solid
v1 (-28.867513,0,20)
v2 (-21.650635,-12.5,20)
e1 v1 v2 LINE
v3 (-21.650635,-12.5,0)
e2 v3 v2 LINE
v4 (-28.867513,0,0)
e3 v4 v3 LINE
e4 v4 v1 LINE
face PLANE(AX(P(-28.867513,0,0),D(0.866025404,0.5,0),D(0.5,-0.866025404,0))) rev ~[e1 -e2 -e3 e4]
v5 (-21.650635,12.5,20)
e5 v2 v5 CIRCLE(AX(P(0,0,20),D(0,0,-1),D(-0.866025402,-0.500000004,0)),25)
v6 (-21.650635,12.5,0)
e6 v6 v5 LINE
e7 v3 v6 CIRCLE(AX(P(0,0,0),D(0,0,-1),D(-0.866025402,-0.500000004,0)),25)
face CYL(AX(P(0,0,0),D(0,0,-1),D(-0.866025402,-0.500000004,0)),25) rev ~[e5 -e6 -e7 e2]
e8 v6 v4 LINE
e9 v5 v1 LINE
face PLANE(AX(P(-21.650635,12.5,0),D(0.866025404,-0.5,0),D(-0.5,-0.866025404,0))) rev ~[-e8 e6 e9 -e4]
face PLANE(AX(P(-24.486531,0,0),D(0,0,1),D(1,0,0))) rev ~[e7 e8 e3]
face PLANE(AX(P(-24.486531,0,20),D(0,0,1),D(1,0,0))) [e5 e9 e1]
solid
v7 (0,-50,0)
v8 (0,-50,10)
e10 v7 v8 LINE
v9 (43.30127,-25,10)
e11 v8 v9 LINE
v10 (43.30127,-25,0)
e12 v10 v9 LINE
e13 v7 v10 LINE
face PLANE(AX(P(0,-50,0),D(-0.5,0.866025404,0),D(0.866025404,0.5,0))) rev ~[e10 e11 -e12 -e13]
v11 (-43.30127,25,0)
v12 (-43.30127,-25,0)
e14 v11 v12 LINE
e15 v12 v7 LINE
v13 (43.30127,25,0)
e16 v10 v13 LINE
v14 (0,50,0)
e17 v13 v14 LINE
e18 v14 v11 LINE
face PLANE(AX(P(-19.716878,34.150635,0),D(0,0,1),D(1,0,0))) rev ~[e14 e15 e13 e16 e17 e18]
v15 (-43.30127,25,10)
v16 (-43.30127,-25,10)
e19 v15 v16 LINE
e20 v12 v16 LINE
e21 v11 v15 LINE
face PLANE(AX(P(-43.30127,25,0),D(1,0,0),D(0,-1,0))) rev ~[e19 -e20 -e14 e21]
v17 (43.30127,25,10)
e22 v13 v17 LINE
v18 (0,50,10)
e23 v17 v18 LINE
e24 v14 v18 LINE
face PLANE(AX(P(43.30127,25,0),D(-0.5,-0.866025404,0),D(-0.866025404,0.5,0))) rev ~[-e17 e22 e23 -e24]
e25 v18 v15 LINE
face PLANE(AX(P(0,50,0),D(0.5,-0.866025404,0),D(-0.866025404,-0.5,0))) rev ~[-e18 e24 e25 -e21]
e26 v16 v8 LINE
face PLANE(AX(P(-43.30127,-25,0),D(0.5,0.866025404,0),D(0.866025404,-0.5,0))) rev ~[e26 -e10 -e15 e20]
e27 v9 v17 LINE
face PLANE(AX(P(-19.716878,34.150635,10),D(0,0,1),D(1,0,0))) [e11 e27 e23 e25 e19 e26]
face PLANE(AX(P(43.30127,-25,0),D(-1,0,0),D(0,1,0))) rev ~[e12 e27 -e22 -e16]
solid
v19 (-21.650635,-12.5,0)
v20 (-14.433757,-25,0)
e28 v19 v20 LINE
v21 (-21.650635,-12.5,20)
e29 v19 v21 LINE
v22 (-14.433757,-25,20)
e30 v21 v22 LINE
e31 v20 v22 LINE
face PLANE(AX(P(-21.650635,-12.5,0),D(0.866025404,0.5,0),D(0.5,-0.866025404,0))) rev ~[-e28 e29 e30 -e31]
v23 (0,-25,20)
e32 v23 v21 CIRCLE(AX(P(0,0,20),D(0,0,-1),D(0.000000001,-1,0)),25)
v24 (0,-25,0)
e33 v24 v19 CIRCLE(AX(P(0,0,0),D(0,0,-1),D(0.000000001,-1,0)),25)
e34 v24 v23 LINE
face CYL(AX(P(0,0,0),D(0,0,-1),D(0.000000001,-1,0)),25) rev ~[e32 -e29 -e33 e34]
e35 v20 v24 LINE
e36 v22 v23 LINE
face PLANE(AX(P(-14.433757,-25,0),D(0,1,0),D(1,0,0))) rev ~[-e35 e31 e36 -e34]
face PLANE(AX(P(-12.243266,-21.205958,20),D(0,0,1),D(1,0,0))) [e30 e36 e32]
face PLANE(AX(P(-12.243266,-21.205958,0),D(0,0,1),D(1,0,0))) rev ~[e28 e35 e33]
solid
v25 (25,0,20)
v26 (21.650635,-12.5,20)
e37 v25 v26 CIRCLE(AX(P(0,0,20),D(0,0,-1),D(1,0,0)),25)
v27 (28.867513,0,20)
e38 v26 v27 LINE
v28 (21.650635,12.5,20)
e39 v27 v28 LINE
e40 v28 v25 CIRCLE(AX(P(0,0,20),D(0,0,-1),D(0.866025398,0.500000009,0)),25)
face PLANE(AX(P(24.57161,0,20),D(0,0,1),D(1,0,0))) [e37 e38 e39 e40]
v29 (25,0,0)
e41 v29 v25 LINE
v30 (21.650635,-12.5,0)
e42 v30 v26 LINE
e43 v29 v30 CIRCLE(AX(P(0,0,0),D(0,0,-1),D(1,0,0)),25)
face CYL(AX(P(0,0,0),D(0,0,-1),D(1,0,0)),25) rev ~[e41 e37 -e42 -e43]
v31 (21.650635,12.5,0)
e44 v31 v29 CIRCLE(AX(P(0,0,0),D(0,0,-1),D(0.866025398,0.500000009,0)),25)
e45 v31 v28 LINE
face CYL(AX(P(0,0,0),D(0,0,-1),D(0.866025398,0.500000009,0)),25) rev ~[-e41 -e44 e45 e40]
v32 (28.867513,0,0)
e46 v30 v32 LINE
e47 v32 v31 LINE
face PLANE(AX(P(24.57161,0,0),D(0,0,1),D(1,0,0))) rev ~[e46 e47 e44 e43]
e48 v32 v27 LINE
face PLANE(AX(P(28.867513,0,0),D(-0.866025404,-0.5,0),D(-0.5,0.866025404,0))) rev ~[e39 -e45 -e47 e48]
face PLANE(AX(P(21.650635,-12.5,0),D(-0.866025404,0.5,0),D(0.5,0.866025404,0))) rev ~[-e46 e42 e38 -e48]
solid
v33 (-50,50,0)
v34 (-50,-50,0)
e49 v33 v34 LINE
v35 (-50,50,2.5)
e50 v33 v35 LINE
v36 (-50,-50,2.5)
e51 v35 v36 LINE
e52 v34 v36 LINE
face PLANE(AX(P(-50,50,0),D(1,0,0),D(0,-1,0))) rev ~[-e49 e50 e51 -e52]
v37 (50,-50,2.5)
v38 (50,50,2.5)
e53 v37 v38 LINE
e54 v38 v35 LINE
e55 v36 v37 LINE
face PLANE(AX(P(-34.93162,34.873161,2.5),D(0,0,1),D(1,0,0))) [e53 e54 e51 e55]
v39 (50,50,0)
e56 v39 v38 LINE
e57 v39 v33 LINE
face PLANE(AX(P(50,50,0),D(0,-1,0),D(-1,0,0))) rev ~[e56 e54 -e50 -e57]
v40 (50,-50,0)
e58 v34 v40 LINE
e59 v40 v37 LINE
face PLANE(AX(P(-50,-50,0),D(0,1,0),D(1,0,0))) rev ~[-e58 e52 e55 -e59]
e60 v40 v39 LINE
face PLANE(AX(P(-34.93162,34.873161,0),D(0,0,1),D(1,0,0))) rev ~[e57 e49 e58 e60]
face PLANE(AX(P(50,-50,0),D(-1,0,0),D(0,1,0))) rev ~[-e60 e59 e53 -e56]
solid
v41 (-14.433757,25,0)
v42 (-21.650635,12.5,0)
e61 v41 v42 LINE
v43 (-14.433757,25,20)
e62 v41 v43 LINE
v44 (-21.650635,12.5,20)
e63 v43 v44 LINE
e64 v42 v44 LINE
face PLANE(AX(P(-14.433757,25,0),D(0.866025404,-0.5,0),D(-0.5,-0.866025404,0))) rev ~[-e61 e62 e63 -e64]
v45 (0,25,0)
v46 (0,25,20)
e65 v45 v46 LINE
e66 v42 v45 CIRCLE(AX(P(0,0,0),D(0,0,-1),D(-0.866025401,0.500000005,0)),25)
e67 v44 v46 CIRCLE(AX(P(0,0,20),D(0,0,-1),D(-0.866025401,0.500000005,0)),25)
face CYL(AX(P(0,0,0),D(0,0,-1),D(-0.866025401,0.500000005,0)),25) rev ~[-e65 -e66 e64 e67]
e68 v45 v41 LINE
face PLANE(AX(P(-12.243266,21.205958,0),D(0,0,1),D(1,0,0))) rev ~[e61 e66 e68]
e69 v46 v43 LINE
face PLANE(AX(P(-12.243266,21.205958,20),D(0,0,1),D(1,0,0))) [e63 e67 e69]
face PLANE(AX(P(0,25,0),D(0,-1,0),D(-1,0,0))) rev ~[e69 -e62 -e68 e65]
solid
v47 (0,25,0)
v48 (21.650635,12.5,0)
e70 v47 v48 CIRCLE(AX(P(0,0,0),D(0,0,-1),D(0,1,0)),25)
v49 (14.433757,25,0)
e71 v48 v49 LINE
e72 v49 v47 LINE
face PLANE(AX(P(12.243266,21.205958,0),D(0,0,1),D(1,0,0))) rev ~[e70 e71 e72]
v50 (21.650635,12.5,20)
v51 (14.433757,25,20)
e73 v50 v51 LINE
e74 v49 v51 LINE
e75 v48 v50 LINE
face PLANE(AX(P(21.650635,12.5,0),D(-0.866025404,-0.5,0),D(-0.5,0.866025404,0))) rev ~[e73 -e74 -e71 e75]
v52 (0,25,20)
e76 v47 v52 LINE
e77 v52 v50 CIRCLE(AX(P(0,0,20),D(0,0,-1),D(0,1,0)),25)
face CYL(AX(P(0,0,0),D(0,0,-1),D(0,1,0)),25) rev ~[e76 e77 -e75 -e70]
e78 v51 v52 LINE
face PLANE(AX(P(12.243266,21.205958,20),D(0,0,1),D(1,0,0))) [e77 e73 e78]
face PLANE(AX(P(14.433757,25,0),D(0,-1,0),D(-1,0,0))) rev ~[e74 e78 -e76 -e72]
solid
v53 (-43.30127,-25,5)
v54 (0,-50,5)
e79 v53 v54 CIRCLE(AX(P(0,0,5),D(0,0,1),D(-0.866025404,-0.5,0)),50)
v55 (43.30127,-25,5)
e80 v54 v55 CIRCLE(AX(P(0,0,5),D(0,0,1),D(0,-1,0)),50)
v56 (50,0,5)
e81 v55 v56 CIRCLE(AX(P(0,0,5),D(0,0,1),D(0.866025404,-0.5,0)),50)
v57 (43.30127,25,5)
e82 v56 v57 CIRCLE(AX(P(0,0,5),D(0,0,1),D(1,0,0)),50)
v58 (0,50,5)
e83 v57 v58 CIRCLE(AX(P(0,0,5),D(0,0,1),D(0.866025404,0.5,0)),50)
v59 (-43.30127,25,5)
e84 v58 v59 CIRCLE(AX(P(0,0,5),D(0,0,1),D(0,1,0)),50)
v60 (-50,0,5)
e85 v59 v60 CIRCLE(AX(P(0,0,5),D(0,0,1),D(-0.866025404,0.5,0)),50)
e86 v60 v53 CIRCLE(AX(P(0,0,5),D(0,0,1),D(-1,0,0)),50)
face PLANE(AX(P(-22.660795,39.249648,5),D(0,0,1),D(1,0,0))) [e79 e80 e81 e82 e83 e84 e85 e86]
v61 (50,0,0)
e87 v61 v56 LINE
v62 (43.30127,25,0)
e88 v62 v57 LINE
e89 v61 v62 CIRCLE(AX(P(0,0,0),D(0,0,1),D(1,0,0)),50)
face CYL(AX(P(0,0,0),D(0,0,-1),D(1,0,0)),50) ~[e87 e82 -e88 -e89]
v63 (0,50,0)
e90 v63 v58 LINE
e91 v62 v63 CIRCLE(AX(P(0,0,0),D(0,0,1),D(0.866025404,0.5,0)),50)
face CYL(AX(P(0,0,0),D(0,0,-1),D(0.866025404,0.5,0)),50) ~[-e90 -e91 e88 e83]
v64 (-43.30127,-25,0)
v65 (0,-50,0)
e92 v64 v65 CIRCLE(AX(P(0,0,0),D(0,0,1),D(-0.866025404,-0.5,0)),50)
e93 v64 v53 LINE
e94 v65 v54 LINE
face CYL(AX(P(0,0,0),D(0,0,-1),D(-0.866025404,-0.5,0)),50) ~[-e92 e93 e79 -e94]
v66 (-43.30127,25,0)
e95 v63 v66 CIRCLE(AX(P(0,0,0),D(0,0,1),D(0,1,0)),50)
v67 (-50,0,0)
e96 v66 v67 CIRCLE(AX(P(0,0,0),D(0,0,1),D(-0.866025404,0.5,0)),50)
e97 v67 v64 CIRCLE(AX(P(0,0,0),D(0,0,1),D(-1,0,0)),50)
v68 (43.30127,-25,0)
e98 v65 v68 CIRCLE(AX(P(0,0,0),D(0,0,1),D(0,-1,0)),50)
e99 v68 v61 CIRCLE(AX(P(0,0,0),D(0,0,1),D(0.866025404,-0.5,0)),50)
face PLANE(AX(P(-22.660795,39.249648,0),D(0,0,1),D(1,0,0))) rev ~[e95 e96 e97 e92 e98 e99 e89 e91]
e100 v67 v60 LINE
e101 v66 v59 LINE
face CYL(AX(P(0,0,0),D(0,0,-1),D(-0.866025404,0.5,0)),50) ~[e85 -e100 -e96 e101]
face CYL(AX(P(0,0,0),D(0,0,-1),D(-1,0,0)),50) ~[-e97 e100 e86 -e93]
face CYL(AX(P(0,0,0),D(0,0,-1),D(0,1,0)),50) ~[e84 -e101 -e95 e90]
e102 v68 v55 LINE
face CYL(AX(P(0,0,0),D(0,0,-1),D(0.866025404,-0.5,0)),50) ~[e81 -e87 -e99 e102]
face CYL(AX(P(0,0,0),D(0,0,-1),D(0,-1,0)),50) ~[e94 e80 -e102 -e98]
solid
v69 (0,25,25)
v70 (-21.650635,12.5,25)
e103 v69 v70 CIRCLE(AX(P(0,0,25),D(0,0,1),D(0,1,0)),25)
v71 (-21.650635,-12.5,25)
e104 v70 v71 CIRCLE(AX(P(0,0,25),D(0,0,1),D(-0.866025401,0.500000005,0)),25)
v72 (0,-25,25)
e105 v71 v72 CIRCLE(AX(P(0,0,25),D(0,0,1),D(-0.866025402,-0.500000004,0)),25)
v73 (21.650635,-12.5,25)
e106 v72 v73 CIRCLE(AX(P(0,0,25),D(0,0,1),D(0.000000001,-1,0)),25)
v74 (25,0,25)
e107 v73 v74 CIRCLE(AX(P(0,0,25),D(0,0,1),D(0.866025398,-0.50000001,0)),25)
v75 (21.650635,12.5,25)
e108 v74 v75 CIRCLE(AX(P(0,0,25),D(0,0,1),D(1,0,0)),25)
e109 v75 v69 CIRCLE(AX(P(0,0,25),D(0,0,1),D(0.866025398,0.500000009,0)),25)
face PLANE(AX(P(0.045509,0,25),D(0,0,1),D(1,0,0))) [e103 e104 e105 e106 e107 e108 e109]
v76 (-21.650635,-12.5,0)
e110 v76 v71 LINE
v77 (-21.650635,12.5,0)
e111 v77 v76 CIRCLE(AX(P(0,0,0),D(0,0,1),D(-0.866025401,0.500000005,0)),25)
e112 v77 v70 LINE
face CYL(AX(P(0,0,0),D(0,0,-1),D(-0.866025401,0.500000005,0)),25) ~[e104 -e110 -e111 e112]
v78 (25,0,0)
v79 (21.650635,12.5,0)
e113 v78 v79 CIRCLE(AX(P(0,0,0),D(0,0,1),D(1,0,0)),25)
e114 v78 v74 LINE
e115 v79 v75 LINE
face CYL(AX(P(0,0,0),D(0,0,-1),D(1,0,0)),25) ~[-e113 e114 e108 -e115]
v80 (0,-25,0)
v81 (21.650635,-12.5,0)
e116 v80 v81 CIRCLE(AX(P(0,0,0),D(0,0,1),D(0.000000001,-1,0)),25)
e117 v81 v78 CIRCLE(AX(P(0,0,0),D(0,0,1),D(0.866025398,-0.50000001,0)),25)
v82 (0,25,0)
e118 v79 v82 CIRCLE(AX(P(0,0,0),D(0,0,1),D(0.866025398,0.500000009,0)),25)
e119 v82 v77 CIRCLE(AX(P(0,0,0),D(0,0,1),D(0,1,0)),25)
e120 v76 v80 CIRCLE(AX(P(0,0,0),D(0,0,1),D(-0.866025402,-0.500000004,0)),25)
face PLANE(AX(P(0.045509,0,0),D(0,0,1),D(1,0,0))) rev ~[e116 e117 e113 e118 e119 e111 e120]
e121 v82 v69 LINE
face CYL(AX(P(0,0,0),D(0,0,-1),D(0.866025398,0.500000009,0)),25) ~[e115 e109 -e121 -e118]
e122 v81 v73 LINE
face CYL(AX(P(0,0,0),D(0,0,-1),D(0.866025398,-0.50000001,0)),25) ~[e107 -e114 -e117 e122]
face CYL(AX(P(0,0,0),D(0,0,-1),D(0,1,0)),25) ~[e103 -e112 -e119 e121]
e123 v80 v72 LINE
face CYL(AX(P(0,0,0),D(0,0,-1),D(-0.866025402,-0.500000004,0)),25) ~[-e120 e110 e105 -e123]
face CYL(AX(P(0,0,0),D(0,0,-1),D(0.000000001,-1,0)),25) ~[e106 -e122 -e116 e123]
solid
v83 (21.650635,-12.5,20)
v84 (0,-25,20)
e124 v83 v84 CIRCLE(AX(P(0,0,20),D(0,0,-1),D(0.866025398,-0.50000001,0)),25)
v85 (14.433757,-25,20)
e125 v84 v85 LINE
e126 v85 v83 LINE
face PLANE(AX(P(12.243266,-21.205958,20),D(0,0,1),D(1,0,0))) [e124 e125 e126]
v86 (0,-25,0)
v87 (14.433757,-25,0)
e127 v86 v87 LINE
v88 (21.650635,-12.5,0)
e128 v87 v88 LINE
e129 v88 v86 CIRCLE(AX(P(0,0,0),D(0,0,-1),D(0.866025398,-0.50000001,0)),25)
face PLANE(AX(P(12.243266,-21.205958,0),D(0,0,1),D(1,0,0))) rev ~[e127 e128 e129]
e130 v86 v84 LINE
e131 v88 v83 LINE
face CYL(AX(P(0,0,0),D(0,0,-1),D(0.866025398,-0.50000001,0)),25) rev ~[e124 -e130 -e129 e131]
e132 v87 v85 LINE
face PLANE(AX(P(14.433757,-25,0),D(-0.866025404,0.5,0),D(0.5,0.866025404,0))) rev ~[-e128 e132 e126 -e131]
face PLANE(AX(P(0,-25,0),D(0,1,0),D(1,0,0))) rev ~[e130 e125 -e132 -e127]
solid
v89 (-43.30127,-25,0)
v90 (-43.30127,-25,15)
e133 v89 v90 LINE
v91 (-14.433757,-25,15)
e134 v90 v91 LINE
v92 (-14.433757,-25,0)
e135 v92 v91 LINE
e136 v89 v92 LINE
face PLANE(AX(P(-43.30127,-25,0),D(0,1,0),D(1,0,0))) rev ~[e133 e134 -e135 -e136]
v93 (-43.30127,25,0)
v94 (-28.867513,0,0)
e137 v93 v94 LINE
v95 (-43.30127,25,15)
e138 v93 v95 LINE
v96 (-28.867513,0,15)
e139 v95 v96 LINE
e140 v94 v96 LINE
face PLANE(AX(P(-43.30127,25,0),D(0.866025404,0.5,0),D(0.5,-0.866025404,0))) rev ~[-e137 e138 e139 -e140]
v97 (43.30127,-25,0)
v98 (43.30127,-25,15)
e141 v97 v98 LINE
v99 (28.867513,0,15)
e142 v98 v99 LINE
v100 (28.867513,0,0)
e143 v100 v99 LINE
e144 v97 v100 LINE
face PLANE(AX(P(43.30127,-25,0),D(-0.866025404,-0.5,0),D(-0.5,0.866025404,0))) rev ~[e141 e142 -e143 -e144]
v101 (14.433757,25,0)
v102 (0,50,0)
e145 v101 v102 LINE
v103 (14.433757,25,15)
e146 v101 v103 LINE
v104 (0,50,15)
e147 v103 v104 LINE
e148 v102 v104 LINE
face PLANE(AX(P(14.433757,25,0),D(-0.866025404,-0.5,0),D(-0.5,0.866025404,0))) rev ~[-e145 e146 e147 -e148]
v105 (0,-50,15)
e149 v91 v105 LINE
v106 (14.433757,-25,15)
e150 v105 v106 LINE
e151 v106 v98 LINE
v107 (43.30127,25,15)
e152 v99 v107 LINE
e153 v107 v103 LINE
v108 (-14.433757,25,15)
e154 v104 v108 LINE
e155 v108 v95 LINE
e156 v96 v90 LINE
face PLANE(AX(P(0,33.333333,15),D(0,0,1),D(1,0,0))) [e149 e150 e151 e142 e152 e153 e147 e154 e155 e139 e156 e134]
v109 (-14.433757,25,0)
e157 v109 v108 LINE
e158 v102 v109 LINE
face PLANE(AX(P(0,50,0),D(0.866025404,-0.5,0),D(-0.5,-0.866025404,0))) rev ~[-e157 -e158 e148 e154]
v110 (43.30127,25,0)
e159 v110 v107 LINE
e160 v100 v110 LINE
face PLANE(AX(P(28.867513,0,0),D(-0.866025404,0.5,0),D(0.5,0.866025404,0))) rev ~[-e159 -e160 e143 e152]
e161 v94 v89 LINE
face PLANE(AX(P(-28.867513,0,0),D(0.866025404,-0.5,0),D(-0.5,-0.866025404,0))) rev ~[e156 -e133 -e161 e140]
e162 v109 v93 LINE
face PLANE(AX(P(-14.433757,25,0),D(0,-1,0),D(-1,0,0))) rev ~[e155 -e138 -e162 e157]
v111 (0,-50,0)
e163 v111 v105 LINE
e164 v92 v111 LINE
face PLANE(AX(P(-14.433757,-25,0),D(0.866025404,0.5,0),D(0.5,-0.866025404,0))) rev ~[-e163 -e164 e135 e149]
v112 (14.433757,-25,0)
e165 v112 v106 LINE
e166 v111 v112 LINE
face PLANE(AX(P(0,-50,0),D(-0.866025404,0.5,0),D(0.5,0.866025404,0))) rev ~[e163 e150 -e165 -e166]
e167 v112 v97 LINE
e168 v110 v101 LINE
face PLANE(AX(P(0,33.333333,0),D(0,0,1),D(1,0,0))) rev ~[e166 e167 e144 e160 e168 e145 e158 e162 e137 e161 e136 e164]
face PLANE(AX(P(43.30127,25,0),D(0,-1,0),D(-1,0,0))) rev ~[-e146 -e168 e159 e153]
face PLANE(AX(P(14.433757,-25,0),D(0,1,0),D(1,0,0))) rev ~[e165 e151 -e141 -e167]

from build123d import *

# Parameters (mm, degrees)
F1_DEPTH = 25
F2_DEPTH = 20
F3_DEPTH = 15
F4_DEPTH = 10
F5_DEPTH = 5
F6_DEPTH = 2.5


with BuildPart() as f1:
    # F0 (on Top) → F1 (new body)
    with BuildSketch(Plane.XY):
        with BuildLine():
            ThreePointArc((25, 0), (24.148145622, 6.4704762591), (21.6506349584, 12.5000002359))
            ThreePointArc((21.6506349584, 12.5000002359), (12.4999998821, 21.6506351627), (0, 25))
            ThreePointArc((0, 25), (-12.4999999326, 21.6506351336), (-21.6506350167, 12.5000001349))
            ThreePointArc((-21.6506350167, 12.5000001349), (-25, 2.62e-08), (-21.6506350429, -12.5000000895))
            ThreePointArc((-21.6506350429, -12.5000000895), (-12.4999999395, -21.6506351296), (3.65e-08, -25))
            ThreePointArc((3.65e-08, -25), (12.4999998892, -21.6506351586), (21.6506349484, -12.5000002532))
            ThreePointArc((21.6506349484, -12.5000002532), (24.1481456194, -6.4704762687), (25, 0))
        make_face()
    extrude(amount=F1_DEPTH)


with BuildPart() as f2:
    # F0 (on Top) → F2 (new body)
    with BuildSketch(Plane.XY):
        with BuildLine():
            Line((0, 25), (-14.4337567297, 25))
            Line((-14.4337567297, 25), (-21.6506350167, 12.5000001349))
            ThreePointArc((-21.6506350167, 12.5000001349), (-12.4999999326, 21.6506351336), (0, 25))
        make_face()
    extrude(amount=F2_DEPTH)


with BuildPart() as f2b:
    # F0 (on Top) → F2, piece 2 (new body)
    with BuildSketch(Plane.XY):
        with BuildLine():
            Line((21.6506349484, -12.5000002532), (28.8675134595, 0))
            Line((28.8675134595, 0), (21.6506349584, 12.5000002359))
            ThreePointArc((21.6506349584, 12.5000002359), (24.148145622, 6.4704762591), (25, 0))
            ThreePointArc((25, 0), (24.1481456194, -6.4704762687), (21.6506349484, -12.5000002532))
        make_face()
    extrude(amount=F2_DEPTH)


with BuildPart() as f2c:
    # F0 (on Top) → F2, piece 3 (new body)
    with BuildSketch(Plane.XY):
        with BuildLine():
            Line((21.6506349584, 12.5000002359), (14.4337567297, 25))
            Line((14.4337567297, 25), (0, 25))
            ThreePointArc((0, 25), (12.4999998821, 21.6506351627), (21.6506349584, 12.5000002359))
        make_face()
    extrude(amount=F2_DEPTH)


with BuildPart() as f2d:
    # F0 (on Top) → F2, piece 4 (new body)
    with BuildSketch(Plane.XY):
        with BuildLine():
            Line((3.65e-08, -25), (14.4337567297, -25))
            Line((14.4337567297, -25), (21.6506349484, -12.5000002532))
            ThreePointArc((21.6506349484, -12.5000002532), (12.4999998892, -21.6506351586), (3.65e-08, -25))
        make_face()
    extrude(amount=F2_DEPTH)


with BuildPart() as f2e:
    # F0 (on Top) → F2, piece 5 (new body)
    with BuildSketch(Plane.XY):
        with BuildLine():
            Line((-21.6506350429, -12.5000000895), (-14.4337567297, -25))
            Line((-14.4337567297, -25), (3.65e-08, -25))
            ThreePointArc((3.65e-08, -25), (-12.4999999395, -21.6506351296), (-21.6506350429, -12.5000000895))
        make_face()
    extrude(amount=F2_DEPTH)


with BuildPart() as f2f:
    # F0 (on Top) → F2, piece 6 (new body)
    with BuildSketch(Plane.XY):
        with BuildLine():
            Line((-21.6506350167, 12.5000001349), (-28.8675134595, 0))
            Line((-28.8675134595, 0), (-21.6506350429, -12.5000000895))
            ThreePointArc((-21.6506350429, -12.5000000895), (-25, 2.62e-08), (-21.6506350167, 12.5000001349))
        make_face()
    extrude(amount=F2_DEPTH)


with BuildPart() as f3:
    # F0 (on Top) → F3 (new body)
    with BuildSketch(Plane.XY):
        Polygon((14.4337567297, 25), (0, 50), (-14.4337567297, 25), (0, 25), align=None)
        Polygon((28.8675134595, 0), (43.3012701892, 25), (14.4337567297, 25), (21.6506349584, 12.5000002359), align=None)
        Polygon((14.4337567297, -25), (43.3012701892, -25), (28.8675134595, 0), (21.6506349484, -12.5000002532), align=None)
        Polygon((-14.4337567297, -25), (0, -50), (14.4337567297, -25), (3.65e-08, -25), align=None)
        Polygon((-28.8675134595, 0), (-43.3012701892, -25), (-14.4337567297, -25), (-21.6506350429, -12.5000000895), align=None)
        Polygon((-14.4337567297, 25), (-43.3012701892, 25), (-28.8675134595, 0), (-21.6506350167, 12.5000001349), align=None)
        with BuildLine():
            Line((0, 25), (-14.4337567297, 25))
            Line((-14.4337567297, 25), (-21.6506350167, 12.5000001349))
            ThreePointArc((-21.6506350167, 12.5000001349), (-12.4999999326, 21.6506351336), (0, 25))
        make_face()
        with BuildLine():
            Line((21.6506349584, 12.5000002359), (14.4337567297, 25))
            Line((14.4337567297, 25), (0, 25))
            ThreePointArc((0, 25), (12.4999998821, 21.6506351627), (21.6506349584, 12.5000002359))
        make_face()
        with BuildLine():
            Line((21.6506349484, -12.5000002532), (28.8675134595, 0))
            Line((28.8675134595, 0), (21.6506349584, 12.5000002359))
            ThreePointArc((21.6506349584, 12.5000002359), (24.148145622, 6.4704762591), (25, 0))
            ThreePointArc((25, 0), (24.1481456194, -6.4704762687), (21.6506349484, -12.5000002532))
        make_face()
        with BuildLine():
            Line((3.65e-08, -25), (14.4337567297, -25))
            Line((14.4337567297, -25), (21.6506349484, -12.5000002532))
            ThreePointArc((21.6506349484, -12.5000002532), (12.4999998892, -21.6506351586), (3.65e-08, -25))
        make_face()
        with BuildLine():
            Line((-21.6506350429, -12.5000000895), (-14.4337567297, -25))
            Line((-14.4337567297, -25), (3.65e-08, -25))
            ThreePointArc((3.65e-08, -25), (-12.4999999395, -21.6506351296), (-21.6506350429, -12.5000000895))
        make_face()
        with BuildLine():
            Line((-21.6506350167, 12.5000001349), (-28.8675134595, 0))
            Line((-28.8675134595, 0), (-21.6506350429, -12.5000000895))
            ThreePointArc((-21.6506350429, -12.5000000895), (-25, 2.62e-08), (-21.6506350167, 12.5000001349))
        make_face()
        with BuildLine():
            ThreePointArc((25, 0), (24.148145622, 6.4704762591), (21.6506349584, 12.5000002359))
            ThreePointArc((21.6506349584, 12.5000002359), (12.4999998821, 21.6506351627), (0, 25))
            ThreePointArc((0, 25), (-12.4999999326, 21.6506351336), (-21.6506350167, 12.5000001349))
            ThreePointArc((-21.6506350167, 12.5000001349), (-25, 2.62e-08), (-21.6506350429, -12.5000000895))
            ThreePointArc((-21.6506350429, -12.5000000895), (-12.4999999395, -21.6506351296), (3.65e-08, -25))
            ThreePointArc((3.65e-08, -25), (12.4999998892, -21.6506351586), (21.6506349484, -12.5000002532))
            ThreePointArc((21.6506349484, -12.5000002532), (24.1481456194, -6.4704762687), (25, 0))
        make_face()
    extrude(amount=F3_DEPTH)


with BuildPart() as f4:
    # F0 (on Top) → F4 (new body)
    with BuildSketch(Plane.XY):
        Polygon((-14.4337567297, 25), (0, 50), (-43.3012701892, 25), align=None)
        Polygon((14.4337567297, 25), (43.3012701892, 25), (0, 50), align=None)
        Polygon((43.3012701892, -25), (43.3012701892, 25), (28.8675134595, 0), align=None)
        Polygon((0, -50), (43.3012701892, -25), (14.4337567297, -25), align=None)
        Polygon((-43.3012701892, -25), (0, -50), (-14.4337567297, -25), align=None)
        Polygon((-28.8675134595, 0), (-43.3012701892, 25), (-43.3012701892, -25), align=None)
        Polygon((-14.4337567297, 25), (-43.3012701892, 25), (-28.8675134595, 0), (-21.6506350167, 12.5000001349), align=None)
        Polygon((14.4337567297, 25), (0, 50), (-14.4337567297, 25), (0, 25), align=None)
        Polygon((28.8675134595, 0), (43.3012701892, 25), (14.4337567297, 25), (21.6506349584, 12.5000002359), align=None)
        Polygon((14.4337567297, -25), (43.3012701892, -25), (28.8675134595, 0), (21.6506349484, -12.5000002532), align=None)
        Polygon((-14.4337567297, -25), (0, -50), (14.4337567297, -25), (3.65e-08, -25), align=None)
        Polygon((-28.8675134595, 0), (-43.3012701892, -25), (-14.4337567297, -25), (-21.6506350429, -12.5000000895), align=None)
        with BuildLine():
            Line((-21.6506350167, 12.5000001349), (-28.8675134595, 0))
            Line((-28.8675134595, 0), (-21.6506350429, -12.5000000895))
            ThreePointArc((-21.6506350429, -12.5000000895), (-25, 2.62e-08), (-21.6506350167, 12.5000001349))
        make_face()
        with BuildLine():
            Line((0, 25), (-14.4337567297, 25))
            Line((-14.4337567297, 25), (-21.6506350167, 12.5000001349))
            ThreePointArc((-21.6506350167, 12.5000001349), (-12.4999999326, 21.6506351336), (0, 25))
        make_face()
        with BuildLine():
            Line((21.6506349584, 12.5000002359), (14.4337567297, 25))
            Line((14.4337567297, 25), (0, 25))
            ThreePointArc((0, 25), (12.4999998821, 21.6506351627), (21.6506349584, 12.5000002359))
        make_face()
        with BuildLine():
            Line((21.6506349484, -12.5000002532), (28.8675134595, 0))
            Line((28.8675134595, 0), (21.6506349584, 12.5000002359))
            ThreePointArc((21.6506349584, 12.5000002359), (24.148145622, 6.4704762591), (25, 0))
            ThreePointArc((25, 0), (24.1481456194, -6.4704762687), (21.6506349484, -12.5000002532))
        make_face()
        with BuildLine():
            Line((3.65e-08, -25), (14.4337567297, -25))
            Line((14.4337567297, -25), (21.6506349484, -12.5000002532))
            ThreePointArc((21.6506349484, -12.5000002532), (12.4999998892, -21.6506351586), (3.65e-08, -25))
        make_face()
        with BuildLine():
            Line((-21.6506350429, -12.5000000895), (-14.4337567297, -25))
            Line((-14.4337567297, -25), (3.65e-08, -25))
            ThreePointArc((3.65e-08, -25), (-12.4999999395, -21.6506351296), (-21.6506350429, -12.5000000895))
        make_face()
        with BuildLine():
            ThreePointArc((25, 0), (24.148145622, 6.4704762591), (21.6506349584, 12.5000002359))
            ThreePointArc((21.6506349584, 12.5000002359), (12.4999998821, 21.6506351627), (0, 25))
            ThreePointArc((0, 25), (-12.4999999326, 21.6506351336), (-21.6506350167, 12.5000001349))
            ThreePointArc((-21.6506350167, 12.5000001349), (-25, 2.62e-08), (-21.6506350429, -12.5000000895))
            ThreePointArc((-21.6506350429, -12.5000000895), (-12.4999999395, -21.6506351296), (3.65e-08, -25))
            ThreePointArc((3.65e-08, -25), (12.4999998892, -21.6506351586), (21.6506349484, -12.5000002532))
            ThreePointArc((21.6506349484, -12.5000002532), (24.1481456194, -6.4704762687), (25, 0))
        make_face()
    extrude(amount=F4_DEPTH)


with BuildPart() as f5:
    # F0 (on Top) → F5 (new body)
    with BuildSketch(Plane.XY):
        with BuildLine():
            Line((-43.3012701892, 25), (0, 50))
            ThreePointArc((0, 50), (-25, 43.3012701892), (-43.3012701892, 25))
        make_face()
        with BuildLine():
            Line((0, 50), (43.3012701892, 25))
            ThreePointArc((43.3012701892, 25), (25, 43.3012701892), (0, 50))
        make_face()
        with BuildLine():
            ThreePointArc((43.3012701892, -25), (48.2962913145, -12.9409522551), (50, 0))
            ThreePointArc((50, 0), (48.2962913145, 12.9409522551), (43.3012701892, 25))
            Line((43.3012701892, 25), (43.3012701892, -25))
        make_face()
        with BuildLine():
            ThreePointArc((0, -50), (25, -43.3012701892), (43.3012701892, -25))
            Line((43.3012701892, -25), (0, -50))
        make_face()
        with BuildLine():
            ThreePointArc((-43.3012701892, -25), (-25, -43.3012701892), (0, -50))
            Line((0, -50), (-43.3012701892, -25))
        make_face()
        with BuildLine():
            Line((-43.3012701892, -25), (-43.3012701892, 25))
            ThreePointArc((-43.3012701892, 25), (-48.2962913145, 12.9409522551), (-50, 0))
            ThreePointArc((-50, 0), (-48.2962913145, -12.9409522551), (-43.3012701892, -25))
        make_face()
        Polygon((-14.4337567297, 25), (0, 50), (-43.3012701892, 25), align=None)
        Polygon((14.4337567297, 25), (43.3012701892, 25), (0, 50), align=None)
        Polygon((43.3012701892, -25), (43.3012701892, 25), (28.8675134595, 0), align=None)
        Polygon((0, -50), (43.3012701892, -25), (14.4337567297, -25), align=None)
        Polygon((-43.3012701892, -25), (0, -50), (-14.4337567297, -25), align=None)
        Polygon((-28.8675134595, 0), (-43.3012701892, 25), (-43.3012701892, -25), align=None)
        Polygon((14.4337567297, 25), (0, 50), (-14.4337567297, 25), (0, 25), align=None)
        Polygon((28.8675134595, 0), (43.3012701892, 25), (14.4337567297, 25), (21.6506349584, 12.5000002359), align=None)
        Polygon((14.4337567297, -25), (43.3012701892, -25), (28.8675134595, 0), (21.6506349484, -12.5000002532), align=None)
        Polygon((-14.4337567297, -25), (0, -50), (14.4337567297, -25), (3.65e-08, -25), align=None)
        Polygon((-28.8675134595, 0), (-43.3012701892, -25), (-14.4337567297, -25), (-21.6506350429, -12.5000000895), align=None)
        Polygon((-14.4337567297, 25), (-43.3012701892, 25), (-28.8675134595, 0), (-21.6506350167, 12.5000001349), align=None)
        with BuildLine():
            Line((0, 25), (-14.4337567297, 25))
            Line((-14.4337567297, 25), (-21.6506350167, 12.5000001349))
            ThreePointArc((-21.6506350167, 12.5000001349), (-12.4999999326, 21.6506351336), (0, 25))
        make_face()
        with BuildLine():
            Line((21.6506349584, 12.5000002359), (14.4337567297, 25))
            Line((14.4337567297, 25), (0, 25))
            ThreePointArc((0, 25), (12.4999998821, 21.6506351627), (21.6506349584, 12.5000002359))
        make_face()
        with BuildLine():
            Line((21.6506349484, -12.5000002532), (28.8675134595, 0))
            Line((28.8675134595, 0), (21.6506349584, 12.5000002359))
            ThreePointArc((21.6506349584, 12.5000002359), (24.148145622, 6.4704762591), (25, 0))
            ThreePointArc((25, 0), (24.1481456194, -6.4704762687), (21.6506349484, -12.5000002532))
        make_face()
        with BuildLine():
            Line((3.65e-08, -25), (14.4337567297, -25))
            Line((14.4337567297, -25), (21.6506349484, -12.5000002532))
            ThreePointArc((21.6506349484, -12.5000002532), (12.4999998892, -21.6506351586), (3.65e-08, -25))
        make_face()
        with BuildLine():
            Line((-21.6506350429, -12.5000000895), (-14.4337567297, -25))
            Line((-14.4337567297, -25), (3.65e-08, -25))
            ThreePointArc((3.65e-08, -25), (-12.4999999395, -21.6506351296), (-21.6506350429, -12.5000000895))
        make_face()
        with BuildLine():
            Line((-21.6506350167, 12.5000001349), (-28.8675134595, 0))
            Line((-28.8675134595, 0), (-21.6506350429, -12.5000000895))
            ThreePointArc((-21.6506350429, -12.5000000895), (-25, 2.62e-08), (-21.6506350167, 12.5000001349))
        make_face()
        with BuildLine():
            ThreePointArc((25, 0), (24.148145622, 6.4704762591), (21.6506349584, 12.5000002359))
            ThreePointArc((21.6506349584, 12.5000002359), (12.4999998821, 21.6506351627), (0, 25))
            ThreePointArc((0, 25), (-12.4999999326, 21.6506351336), (-21.6506350167, 12.5000001349))
            ThreePointArc((-21.6506350167, 12.5000001349), (-25, 2.62e-08), (-21.6506350429, -12.5000000895))
            ThreePointArc((-21.6506350429, -12.5000000895), (-12.4999999395, -21.6506351296), (3.65e-08, -25))
            ThreePointArc((3.65e-08, -25), (12.4999998892, -21.6506351586), (21.6506349484, -12.5000002532))
            ThreePointArc((21.6506349484, -12.5000002532), (24.1481456194, -6.4704762687), (25, 0))
        make_face()
    extrude(amount=F5_DEPTH)


with BuildPart() as f6:
    # F0 (on Top) → F6 (new body)
    with BuildSketch(Plane.XY):
        with BuildLine():
            ThreePointArc((-43.3012701892, 25), (-25, 43.3012701892), (0, 50))
            Line((0, 50), (-50, 50))
            Line((-50, 50), (-50, 0))
            ThreePointArc((-50, 0), (-48.2962913145, 12.9409522551), (-43.3012701892, 25))
        make_face()
        with BuildLine():
            ThreePointArc((43.3012701892, 25), (48.2962913145, 12.9409522551), (50, 0))
            Line((50, 0), (50, 50))
            Line((50, 50), (0, 50))
            ThreePointArc((0, 50), (25, 43.3012701892), (43.3012701892, 25))
        make_face()
        with BuildLine():
            Line((50, -50), (50, 0))
            ThreePointArc((50, 0), (48.2962913145, -12.9409522551), (43.3012701892, -25))
            ThreePointArc((43.3012701892, -25), (25, -43.3012701892), (0, -50))
            Line((0, -50), (50, -50))
        make_face()
        with BuildLine():
            Line((-50, -50), (0, -50))
            ThreePointArc((0, -50), (-25, -43.3012701892), (-43.3012701892, -25))
            ThreePointArc((-43.3012701892, -25), (-48.2962913145, -12.9409522551), (-50, 0))
            Line((-50, 0), (-50, -50))
        make_face()
        with BuildLine():
            Line((-43.3012701892, 25), (0, 50))
            ThreePointArc((0, 50), (-25, 43.3012701892), (-43.3012701892, 25))
        make_face()
        with BuildLine():
            Line((0, 50), (43.3012701892, 25))
            ThreePointArc((43.3012701892, 25), (25, 43.3012701892), (0, 50))
        make_face()
        with BuildLine():
            ThreePointArc((43.3012701892, -25), (48.2962913145, -12.9409522551), (50, 0))
            ThreePointArc((50, 0), (48.2962913145, 12.9409522551), (43.3012701892, 25))
            Line((43.3012701892, 25), (43.3012701892, -25))
        make_face()
        with BuildLine():
            ThreePointArc((0, -50), (25, -43.3012701892), (43.3012701892, -25))
            Line((43.3012701892, -25), (0, -50))
        make_face()
        with BuildLine():
            ThreePointArc((-43.3012701892, -25), (-25, -43.3012701892), (0, -50))
            Line((0, -50), (-43.3012701892, -25))
        make_face()
        with BuildLine():
            Line((-43.3012701892, -25), (-43.3012701892, 25))
            ThreePointArc((-43.3012701892, 25), (-48.2962913145, 12.9409522551), (-50, 0))
            ThreePointArc((-50, 0), (-48.2962913145, -12.9409522551), (-43.3012701892, -25))
        make_face()
        Polygon((-14.4337567297, 25), (0, 50), (-43.3012701892, 25), align=None)
        Polygon((14.4337567297, 25), (43.3012701892, 25), (0, 50), align=None)
        Polygon((43.3012701892, -25), (43.3012701892, 25), (28.8675134595, 0), align=None)
        Polygon((0, -50), (43.3012701892, -25), (14.4337567297, -25), align=None)
        Polygon((-43.3012701892, -25), (0, -50), (-14.4337567297, -25), align=None)
        Polygon((-28.8675134595, 0), (-43.3012701892, 25), (-43.3012701892, -25), align=None)
        Polygon((14.4337567297, 25), (0, 50), (-14.4337567297, 25), (0, 25), align=None)
        Polygon((28.8675134595, 0), (43.3012701892, 25), (14.4337567297, 25), (21.6506349584, 12.5000002359), align=None)
        Polygon((14.4337567297, -25), (43.3012701892, -25), (28.8675134595, 0), (21.6506349484, -12.5000002532), align=None)
        Polygon((-14.4337567297, -25), (0, -50), (14.4337567297, -25), (3.65e-08, -25), align=None)
        Polygon((-28.8675134595, 0), (-43.3012701892, -25), (-14.4337567297, -25), (-21.6506350429, -12.5000000895), align=None)
        Polygon((-14.4337567297, 25), (-43.3012701892, 25), (-28.8675134595, 0), (-21.6506350167, 12.5000001349), align=None)
        with BuildLine():
            Line((0, 25), (-14.4337567297, 25))
            Line((-14.4337567297, 25), (-21.6506350167, 12.5000001349))
            ThreePointArc((-21.6506350167, 12.5000001349), (-12.4999999326, 21.6506351336), (0, 25))
        make_face()
        with BuildLine():
            Line((21.6506349584, 12.5000002359), (14.4337567297, 25))
            Line((14.4337567297, 25), (0, 25))
            ThreePointArc((0, 25), (12.4999998821, 21.6506351627), (21.6506349584, 12.5000002359))
        make_face()
        with BuildLine():
            Line((21.6506349484, -12.5000002532), (28.8675134595, 0))
            Line((28.8675134595, 0), (21.6506349584, 12.5000002359))
            ThreePointArc((21.6506349584, 12.5000002359), (24.148145622, 6.4704762591), (25, 0))
            ThreePointArc((25, 0), (24.1481456194, -6.4704762687), (21.6506349484, -12.5000002532))
        make_face()
        with BuildLine():
            Line((3.65e-08, -25), (14.4337567297, -25))
            Line((14.4337567297, -25), (21.6506349484, -12.5000002532))
            ThreePointArc((21.6506349484, -12.5000002532), (12.4999998892, -21.6506351586), (3.65e-08, -25))
        make_face()
        with BuildLine():
            Line((-21.6506350429, -12.5000000895), (-14.4337567297, -25))
            Line((-14.4337567297, -25), (3.65e-08, -25))
            ThreePointArc((3.65e-08, -25), (-12.4999999395, -21.6506351296), (-21.6506350429, -12.5000000895))
        make_face()
        with BuildLine():
            Line((-21.6506350167, 12.5000001349), (-28.8675134595, 0))
            Line((-28.8675134595, 0), (-21.6506350429, -12.5000000895))
            ThreePointArc((-21.6506350429, -12.5000000895), (-25, 2.62e-08), (-21.6506350167, 12.5000001349))
        make_face()
        with BuildLine():
            ThreePointArc((25, 0), (24.148145622, 6.4704762591), (21.6506349584, 12.5000002359))
            ThreePointArc((21.6506349584, 12.5000002359), (12.4999998821, 21.6506351627), (0, 25))
            ThreePointArc((0, 25), (-12.4999999326, 21.6506351336), (-21.6506350167, 12.5000001349))
            ThreePointArc((-21.6506350167, 12.5000001349), (-25, 2.62e-08), (-21.6506350429, -12.5000000895))
            ThreePointArc((-21.6506350429, -12.5000000895), (-12.4999999395, -21.6506351296), (3.65e-08, -25))
            ThreePointArc((3.65e-08, -25), (12.4999998892, -21.6506351586), (21.6506349484, -12.5000002532))
            ThreePointArc((21.6506349484, -12.5000002532), (24.1481456194, -6.4704762687), (25, 0))
        make_face()
    extrude(amount=F6_DEPTH)


solid = Compound([f1.part, f2.part, f2b.part, f2c.part, f2d.part, f2e.part, f2f.part, f3.part, f4.part, f5.part, f6.part])
